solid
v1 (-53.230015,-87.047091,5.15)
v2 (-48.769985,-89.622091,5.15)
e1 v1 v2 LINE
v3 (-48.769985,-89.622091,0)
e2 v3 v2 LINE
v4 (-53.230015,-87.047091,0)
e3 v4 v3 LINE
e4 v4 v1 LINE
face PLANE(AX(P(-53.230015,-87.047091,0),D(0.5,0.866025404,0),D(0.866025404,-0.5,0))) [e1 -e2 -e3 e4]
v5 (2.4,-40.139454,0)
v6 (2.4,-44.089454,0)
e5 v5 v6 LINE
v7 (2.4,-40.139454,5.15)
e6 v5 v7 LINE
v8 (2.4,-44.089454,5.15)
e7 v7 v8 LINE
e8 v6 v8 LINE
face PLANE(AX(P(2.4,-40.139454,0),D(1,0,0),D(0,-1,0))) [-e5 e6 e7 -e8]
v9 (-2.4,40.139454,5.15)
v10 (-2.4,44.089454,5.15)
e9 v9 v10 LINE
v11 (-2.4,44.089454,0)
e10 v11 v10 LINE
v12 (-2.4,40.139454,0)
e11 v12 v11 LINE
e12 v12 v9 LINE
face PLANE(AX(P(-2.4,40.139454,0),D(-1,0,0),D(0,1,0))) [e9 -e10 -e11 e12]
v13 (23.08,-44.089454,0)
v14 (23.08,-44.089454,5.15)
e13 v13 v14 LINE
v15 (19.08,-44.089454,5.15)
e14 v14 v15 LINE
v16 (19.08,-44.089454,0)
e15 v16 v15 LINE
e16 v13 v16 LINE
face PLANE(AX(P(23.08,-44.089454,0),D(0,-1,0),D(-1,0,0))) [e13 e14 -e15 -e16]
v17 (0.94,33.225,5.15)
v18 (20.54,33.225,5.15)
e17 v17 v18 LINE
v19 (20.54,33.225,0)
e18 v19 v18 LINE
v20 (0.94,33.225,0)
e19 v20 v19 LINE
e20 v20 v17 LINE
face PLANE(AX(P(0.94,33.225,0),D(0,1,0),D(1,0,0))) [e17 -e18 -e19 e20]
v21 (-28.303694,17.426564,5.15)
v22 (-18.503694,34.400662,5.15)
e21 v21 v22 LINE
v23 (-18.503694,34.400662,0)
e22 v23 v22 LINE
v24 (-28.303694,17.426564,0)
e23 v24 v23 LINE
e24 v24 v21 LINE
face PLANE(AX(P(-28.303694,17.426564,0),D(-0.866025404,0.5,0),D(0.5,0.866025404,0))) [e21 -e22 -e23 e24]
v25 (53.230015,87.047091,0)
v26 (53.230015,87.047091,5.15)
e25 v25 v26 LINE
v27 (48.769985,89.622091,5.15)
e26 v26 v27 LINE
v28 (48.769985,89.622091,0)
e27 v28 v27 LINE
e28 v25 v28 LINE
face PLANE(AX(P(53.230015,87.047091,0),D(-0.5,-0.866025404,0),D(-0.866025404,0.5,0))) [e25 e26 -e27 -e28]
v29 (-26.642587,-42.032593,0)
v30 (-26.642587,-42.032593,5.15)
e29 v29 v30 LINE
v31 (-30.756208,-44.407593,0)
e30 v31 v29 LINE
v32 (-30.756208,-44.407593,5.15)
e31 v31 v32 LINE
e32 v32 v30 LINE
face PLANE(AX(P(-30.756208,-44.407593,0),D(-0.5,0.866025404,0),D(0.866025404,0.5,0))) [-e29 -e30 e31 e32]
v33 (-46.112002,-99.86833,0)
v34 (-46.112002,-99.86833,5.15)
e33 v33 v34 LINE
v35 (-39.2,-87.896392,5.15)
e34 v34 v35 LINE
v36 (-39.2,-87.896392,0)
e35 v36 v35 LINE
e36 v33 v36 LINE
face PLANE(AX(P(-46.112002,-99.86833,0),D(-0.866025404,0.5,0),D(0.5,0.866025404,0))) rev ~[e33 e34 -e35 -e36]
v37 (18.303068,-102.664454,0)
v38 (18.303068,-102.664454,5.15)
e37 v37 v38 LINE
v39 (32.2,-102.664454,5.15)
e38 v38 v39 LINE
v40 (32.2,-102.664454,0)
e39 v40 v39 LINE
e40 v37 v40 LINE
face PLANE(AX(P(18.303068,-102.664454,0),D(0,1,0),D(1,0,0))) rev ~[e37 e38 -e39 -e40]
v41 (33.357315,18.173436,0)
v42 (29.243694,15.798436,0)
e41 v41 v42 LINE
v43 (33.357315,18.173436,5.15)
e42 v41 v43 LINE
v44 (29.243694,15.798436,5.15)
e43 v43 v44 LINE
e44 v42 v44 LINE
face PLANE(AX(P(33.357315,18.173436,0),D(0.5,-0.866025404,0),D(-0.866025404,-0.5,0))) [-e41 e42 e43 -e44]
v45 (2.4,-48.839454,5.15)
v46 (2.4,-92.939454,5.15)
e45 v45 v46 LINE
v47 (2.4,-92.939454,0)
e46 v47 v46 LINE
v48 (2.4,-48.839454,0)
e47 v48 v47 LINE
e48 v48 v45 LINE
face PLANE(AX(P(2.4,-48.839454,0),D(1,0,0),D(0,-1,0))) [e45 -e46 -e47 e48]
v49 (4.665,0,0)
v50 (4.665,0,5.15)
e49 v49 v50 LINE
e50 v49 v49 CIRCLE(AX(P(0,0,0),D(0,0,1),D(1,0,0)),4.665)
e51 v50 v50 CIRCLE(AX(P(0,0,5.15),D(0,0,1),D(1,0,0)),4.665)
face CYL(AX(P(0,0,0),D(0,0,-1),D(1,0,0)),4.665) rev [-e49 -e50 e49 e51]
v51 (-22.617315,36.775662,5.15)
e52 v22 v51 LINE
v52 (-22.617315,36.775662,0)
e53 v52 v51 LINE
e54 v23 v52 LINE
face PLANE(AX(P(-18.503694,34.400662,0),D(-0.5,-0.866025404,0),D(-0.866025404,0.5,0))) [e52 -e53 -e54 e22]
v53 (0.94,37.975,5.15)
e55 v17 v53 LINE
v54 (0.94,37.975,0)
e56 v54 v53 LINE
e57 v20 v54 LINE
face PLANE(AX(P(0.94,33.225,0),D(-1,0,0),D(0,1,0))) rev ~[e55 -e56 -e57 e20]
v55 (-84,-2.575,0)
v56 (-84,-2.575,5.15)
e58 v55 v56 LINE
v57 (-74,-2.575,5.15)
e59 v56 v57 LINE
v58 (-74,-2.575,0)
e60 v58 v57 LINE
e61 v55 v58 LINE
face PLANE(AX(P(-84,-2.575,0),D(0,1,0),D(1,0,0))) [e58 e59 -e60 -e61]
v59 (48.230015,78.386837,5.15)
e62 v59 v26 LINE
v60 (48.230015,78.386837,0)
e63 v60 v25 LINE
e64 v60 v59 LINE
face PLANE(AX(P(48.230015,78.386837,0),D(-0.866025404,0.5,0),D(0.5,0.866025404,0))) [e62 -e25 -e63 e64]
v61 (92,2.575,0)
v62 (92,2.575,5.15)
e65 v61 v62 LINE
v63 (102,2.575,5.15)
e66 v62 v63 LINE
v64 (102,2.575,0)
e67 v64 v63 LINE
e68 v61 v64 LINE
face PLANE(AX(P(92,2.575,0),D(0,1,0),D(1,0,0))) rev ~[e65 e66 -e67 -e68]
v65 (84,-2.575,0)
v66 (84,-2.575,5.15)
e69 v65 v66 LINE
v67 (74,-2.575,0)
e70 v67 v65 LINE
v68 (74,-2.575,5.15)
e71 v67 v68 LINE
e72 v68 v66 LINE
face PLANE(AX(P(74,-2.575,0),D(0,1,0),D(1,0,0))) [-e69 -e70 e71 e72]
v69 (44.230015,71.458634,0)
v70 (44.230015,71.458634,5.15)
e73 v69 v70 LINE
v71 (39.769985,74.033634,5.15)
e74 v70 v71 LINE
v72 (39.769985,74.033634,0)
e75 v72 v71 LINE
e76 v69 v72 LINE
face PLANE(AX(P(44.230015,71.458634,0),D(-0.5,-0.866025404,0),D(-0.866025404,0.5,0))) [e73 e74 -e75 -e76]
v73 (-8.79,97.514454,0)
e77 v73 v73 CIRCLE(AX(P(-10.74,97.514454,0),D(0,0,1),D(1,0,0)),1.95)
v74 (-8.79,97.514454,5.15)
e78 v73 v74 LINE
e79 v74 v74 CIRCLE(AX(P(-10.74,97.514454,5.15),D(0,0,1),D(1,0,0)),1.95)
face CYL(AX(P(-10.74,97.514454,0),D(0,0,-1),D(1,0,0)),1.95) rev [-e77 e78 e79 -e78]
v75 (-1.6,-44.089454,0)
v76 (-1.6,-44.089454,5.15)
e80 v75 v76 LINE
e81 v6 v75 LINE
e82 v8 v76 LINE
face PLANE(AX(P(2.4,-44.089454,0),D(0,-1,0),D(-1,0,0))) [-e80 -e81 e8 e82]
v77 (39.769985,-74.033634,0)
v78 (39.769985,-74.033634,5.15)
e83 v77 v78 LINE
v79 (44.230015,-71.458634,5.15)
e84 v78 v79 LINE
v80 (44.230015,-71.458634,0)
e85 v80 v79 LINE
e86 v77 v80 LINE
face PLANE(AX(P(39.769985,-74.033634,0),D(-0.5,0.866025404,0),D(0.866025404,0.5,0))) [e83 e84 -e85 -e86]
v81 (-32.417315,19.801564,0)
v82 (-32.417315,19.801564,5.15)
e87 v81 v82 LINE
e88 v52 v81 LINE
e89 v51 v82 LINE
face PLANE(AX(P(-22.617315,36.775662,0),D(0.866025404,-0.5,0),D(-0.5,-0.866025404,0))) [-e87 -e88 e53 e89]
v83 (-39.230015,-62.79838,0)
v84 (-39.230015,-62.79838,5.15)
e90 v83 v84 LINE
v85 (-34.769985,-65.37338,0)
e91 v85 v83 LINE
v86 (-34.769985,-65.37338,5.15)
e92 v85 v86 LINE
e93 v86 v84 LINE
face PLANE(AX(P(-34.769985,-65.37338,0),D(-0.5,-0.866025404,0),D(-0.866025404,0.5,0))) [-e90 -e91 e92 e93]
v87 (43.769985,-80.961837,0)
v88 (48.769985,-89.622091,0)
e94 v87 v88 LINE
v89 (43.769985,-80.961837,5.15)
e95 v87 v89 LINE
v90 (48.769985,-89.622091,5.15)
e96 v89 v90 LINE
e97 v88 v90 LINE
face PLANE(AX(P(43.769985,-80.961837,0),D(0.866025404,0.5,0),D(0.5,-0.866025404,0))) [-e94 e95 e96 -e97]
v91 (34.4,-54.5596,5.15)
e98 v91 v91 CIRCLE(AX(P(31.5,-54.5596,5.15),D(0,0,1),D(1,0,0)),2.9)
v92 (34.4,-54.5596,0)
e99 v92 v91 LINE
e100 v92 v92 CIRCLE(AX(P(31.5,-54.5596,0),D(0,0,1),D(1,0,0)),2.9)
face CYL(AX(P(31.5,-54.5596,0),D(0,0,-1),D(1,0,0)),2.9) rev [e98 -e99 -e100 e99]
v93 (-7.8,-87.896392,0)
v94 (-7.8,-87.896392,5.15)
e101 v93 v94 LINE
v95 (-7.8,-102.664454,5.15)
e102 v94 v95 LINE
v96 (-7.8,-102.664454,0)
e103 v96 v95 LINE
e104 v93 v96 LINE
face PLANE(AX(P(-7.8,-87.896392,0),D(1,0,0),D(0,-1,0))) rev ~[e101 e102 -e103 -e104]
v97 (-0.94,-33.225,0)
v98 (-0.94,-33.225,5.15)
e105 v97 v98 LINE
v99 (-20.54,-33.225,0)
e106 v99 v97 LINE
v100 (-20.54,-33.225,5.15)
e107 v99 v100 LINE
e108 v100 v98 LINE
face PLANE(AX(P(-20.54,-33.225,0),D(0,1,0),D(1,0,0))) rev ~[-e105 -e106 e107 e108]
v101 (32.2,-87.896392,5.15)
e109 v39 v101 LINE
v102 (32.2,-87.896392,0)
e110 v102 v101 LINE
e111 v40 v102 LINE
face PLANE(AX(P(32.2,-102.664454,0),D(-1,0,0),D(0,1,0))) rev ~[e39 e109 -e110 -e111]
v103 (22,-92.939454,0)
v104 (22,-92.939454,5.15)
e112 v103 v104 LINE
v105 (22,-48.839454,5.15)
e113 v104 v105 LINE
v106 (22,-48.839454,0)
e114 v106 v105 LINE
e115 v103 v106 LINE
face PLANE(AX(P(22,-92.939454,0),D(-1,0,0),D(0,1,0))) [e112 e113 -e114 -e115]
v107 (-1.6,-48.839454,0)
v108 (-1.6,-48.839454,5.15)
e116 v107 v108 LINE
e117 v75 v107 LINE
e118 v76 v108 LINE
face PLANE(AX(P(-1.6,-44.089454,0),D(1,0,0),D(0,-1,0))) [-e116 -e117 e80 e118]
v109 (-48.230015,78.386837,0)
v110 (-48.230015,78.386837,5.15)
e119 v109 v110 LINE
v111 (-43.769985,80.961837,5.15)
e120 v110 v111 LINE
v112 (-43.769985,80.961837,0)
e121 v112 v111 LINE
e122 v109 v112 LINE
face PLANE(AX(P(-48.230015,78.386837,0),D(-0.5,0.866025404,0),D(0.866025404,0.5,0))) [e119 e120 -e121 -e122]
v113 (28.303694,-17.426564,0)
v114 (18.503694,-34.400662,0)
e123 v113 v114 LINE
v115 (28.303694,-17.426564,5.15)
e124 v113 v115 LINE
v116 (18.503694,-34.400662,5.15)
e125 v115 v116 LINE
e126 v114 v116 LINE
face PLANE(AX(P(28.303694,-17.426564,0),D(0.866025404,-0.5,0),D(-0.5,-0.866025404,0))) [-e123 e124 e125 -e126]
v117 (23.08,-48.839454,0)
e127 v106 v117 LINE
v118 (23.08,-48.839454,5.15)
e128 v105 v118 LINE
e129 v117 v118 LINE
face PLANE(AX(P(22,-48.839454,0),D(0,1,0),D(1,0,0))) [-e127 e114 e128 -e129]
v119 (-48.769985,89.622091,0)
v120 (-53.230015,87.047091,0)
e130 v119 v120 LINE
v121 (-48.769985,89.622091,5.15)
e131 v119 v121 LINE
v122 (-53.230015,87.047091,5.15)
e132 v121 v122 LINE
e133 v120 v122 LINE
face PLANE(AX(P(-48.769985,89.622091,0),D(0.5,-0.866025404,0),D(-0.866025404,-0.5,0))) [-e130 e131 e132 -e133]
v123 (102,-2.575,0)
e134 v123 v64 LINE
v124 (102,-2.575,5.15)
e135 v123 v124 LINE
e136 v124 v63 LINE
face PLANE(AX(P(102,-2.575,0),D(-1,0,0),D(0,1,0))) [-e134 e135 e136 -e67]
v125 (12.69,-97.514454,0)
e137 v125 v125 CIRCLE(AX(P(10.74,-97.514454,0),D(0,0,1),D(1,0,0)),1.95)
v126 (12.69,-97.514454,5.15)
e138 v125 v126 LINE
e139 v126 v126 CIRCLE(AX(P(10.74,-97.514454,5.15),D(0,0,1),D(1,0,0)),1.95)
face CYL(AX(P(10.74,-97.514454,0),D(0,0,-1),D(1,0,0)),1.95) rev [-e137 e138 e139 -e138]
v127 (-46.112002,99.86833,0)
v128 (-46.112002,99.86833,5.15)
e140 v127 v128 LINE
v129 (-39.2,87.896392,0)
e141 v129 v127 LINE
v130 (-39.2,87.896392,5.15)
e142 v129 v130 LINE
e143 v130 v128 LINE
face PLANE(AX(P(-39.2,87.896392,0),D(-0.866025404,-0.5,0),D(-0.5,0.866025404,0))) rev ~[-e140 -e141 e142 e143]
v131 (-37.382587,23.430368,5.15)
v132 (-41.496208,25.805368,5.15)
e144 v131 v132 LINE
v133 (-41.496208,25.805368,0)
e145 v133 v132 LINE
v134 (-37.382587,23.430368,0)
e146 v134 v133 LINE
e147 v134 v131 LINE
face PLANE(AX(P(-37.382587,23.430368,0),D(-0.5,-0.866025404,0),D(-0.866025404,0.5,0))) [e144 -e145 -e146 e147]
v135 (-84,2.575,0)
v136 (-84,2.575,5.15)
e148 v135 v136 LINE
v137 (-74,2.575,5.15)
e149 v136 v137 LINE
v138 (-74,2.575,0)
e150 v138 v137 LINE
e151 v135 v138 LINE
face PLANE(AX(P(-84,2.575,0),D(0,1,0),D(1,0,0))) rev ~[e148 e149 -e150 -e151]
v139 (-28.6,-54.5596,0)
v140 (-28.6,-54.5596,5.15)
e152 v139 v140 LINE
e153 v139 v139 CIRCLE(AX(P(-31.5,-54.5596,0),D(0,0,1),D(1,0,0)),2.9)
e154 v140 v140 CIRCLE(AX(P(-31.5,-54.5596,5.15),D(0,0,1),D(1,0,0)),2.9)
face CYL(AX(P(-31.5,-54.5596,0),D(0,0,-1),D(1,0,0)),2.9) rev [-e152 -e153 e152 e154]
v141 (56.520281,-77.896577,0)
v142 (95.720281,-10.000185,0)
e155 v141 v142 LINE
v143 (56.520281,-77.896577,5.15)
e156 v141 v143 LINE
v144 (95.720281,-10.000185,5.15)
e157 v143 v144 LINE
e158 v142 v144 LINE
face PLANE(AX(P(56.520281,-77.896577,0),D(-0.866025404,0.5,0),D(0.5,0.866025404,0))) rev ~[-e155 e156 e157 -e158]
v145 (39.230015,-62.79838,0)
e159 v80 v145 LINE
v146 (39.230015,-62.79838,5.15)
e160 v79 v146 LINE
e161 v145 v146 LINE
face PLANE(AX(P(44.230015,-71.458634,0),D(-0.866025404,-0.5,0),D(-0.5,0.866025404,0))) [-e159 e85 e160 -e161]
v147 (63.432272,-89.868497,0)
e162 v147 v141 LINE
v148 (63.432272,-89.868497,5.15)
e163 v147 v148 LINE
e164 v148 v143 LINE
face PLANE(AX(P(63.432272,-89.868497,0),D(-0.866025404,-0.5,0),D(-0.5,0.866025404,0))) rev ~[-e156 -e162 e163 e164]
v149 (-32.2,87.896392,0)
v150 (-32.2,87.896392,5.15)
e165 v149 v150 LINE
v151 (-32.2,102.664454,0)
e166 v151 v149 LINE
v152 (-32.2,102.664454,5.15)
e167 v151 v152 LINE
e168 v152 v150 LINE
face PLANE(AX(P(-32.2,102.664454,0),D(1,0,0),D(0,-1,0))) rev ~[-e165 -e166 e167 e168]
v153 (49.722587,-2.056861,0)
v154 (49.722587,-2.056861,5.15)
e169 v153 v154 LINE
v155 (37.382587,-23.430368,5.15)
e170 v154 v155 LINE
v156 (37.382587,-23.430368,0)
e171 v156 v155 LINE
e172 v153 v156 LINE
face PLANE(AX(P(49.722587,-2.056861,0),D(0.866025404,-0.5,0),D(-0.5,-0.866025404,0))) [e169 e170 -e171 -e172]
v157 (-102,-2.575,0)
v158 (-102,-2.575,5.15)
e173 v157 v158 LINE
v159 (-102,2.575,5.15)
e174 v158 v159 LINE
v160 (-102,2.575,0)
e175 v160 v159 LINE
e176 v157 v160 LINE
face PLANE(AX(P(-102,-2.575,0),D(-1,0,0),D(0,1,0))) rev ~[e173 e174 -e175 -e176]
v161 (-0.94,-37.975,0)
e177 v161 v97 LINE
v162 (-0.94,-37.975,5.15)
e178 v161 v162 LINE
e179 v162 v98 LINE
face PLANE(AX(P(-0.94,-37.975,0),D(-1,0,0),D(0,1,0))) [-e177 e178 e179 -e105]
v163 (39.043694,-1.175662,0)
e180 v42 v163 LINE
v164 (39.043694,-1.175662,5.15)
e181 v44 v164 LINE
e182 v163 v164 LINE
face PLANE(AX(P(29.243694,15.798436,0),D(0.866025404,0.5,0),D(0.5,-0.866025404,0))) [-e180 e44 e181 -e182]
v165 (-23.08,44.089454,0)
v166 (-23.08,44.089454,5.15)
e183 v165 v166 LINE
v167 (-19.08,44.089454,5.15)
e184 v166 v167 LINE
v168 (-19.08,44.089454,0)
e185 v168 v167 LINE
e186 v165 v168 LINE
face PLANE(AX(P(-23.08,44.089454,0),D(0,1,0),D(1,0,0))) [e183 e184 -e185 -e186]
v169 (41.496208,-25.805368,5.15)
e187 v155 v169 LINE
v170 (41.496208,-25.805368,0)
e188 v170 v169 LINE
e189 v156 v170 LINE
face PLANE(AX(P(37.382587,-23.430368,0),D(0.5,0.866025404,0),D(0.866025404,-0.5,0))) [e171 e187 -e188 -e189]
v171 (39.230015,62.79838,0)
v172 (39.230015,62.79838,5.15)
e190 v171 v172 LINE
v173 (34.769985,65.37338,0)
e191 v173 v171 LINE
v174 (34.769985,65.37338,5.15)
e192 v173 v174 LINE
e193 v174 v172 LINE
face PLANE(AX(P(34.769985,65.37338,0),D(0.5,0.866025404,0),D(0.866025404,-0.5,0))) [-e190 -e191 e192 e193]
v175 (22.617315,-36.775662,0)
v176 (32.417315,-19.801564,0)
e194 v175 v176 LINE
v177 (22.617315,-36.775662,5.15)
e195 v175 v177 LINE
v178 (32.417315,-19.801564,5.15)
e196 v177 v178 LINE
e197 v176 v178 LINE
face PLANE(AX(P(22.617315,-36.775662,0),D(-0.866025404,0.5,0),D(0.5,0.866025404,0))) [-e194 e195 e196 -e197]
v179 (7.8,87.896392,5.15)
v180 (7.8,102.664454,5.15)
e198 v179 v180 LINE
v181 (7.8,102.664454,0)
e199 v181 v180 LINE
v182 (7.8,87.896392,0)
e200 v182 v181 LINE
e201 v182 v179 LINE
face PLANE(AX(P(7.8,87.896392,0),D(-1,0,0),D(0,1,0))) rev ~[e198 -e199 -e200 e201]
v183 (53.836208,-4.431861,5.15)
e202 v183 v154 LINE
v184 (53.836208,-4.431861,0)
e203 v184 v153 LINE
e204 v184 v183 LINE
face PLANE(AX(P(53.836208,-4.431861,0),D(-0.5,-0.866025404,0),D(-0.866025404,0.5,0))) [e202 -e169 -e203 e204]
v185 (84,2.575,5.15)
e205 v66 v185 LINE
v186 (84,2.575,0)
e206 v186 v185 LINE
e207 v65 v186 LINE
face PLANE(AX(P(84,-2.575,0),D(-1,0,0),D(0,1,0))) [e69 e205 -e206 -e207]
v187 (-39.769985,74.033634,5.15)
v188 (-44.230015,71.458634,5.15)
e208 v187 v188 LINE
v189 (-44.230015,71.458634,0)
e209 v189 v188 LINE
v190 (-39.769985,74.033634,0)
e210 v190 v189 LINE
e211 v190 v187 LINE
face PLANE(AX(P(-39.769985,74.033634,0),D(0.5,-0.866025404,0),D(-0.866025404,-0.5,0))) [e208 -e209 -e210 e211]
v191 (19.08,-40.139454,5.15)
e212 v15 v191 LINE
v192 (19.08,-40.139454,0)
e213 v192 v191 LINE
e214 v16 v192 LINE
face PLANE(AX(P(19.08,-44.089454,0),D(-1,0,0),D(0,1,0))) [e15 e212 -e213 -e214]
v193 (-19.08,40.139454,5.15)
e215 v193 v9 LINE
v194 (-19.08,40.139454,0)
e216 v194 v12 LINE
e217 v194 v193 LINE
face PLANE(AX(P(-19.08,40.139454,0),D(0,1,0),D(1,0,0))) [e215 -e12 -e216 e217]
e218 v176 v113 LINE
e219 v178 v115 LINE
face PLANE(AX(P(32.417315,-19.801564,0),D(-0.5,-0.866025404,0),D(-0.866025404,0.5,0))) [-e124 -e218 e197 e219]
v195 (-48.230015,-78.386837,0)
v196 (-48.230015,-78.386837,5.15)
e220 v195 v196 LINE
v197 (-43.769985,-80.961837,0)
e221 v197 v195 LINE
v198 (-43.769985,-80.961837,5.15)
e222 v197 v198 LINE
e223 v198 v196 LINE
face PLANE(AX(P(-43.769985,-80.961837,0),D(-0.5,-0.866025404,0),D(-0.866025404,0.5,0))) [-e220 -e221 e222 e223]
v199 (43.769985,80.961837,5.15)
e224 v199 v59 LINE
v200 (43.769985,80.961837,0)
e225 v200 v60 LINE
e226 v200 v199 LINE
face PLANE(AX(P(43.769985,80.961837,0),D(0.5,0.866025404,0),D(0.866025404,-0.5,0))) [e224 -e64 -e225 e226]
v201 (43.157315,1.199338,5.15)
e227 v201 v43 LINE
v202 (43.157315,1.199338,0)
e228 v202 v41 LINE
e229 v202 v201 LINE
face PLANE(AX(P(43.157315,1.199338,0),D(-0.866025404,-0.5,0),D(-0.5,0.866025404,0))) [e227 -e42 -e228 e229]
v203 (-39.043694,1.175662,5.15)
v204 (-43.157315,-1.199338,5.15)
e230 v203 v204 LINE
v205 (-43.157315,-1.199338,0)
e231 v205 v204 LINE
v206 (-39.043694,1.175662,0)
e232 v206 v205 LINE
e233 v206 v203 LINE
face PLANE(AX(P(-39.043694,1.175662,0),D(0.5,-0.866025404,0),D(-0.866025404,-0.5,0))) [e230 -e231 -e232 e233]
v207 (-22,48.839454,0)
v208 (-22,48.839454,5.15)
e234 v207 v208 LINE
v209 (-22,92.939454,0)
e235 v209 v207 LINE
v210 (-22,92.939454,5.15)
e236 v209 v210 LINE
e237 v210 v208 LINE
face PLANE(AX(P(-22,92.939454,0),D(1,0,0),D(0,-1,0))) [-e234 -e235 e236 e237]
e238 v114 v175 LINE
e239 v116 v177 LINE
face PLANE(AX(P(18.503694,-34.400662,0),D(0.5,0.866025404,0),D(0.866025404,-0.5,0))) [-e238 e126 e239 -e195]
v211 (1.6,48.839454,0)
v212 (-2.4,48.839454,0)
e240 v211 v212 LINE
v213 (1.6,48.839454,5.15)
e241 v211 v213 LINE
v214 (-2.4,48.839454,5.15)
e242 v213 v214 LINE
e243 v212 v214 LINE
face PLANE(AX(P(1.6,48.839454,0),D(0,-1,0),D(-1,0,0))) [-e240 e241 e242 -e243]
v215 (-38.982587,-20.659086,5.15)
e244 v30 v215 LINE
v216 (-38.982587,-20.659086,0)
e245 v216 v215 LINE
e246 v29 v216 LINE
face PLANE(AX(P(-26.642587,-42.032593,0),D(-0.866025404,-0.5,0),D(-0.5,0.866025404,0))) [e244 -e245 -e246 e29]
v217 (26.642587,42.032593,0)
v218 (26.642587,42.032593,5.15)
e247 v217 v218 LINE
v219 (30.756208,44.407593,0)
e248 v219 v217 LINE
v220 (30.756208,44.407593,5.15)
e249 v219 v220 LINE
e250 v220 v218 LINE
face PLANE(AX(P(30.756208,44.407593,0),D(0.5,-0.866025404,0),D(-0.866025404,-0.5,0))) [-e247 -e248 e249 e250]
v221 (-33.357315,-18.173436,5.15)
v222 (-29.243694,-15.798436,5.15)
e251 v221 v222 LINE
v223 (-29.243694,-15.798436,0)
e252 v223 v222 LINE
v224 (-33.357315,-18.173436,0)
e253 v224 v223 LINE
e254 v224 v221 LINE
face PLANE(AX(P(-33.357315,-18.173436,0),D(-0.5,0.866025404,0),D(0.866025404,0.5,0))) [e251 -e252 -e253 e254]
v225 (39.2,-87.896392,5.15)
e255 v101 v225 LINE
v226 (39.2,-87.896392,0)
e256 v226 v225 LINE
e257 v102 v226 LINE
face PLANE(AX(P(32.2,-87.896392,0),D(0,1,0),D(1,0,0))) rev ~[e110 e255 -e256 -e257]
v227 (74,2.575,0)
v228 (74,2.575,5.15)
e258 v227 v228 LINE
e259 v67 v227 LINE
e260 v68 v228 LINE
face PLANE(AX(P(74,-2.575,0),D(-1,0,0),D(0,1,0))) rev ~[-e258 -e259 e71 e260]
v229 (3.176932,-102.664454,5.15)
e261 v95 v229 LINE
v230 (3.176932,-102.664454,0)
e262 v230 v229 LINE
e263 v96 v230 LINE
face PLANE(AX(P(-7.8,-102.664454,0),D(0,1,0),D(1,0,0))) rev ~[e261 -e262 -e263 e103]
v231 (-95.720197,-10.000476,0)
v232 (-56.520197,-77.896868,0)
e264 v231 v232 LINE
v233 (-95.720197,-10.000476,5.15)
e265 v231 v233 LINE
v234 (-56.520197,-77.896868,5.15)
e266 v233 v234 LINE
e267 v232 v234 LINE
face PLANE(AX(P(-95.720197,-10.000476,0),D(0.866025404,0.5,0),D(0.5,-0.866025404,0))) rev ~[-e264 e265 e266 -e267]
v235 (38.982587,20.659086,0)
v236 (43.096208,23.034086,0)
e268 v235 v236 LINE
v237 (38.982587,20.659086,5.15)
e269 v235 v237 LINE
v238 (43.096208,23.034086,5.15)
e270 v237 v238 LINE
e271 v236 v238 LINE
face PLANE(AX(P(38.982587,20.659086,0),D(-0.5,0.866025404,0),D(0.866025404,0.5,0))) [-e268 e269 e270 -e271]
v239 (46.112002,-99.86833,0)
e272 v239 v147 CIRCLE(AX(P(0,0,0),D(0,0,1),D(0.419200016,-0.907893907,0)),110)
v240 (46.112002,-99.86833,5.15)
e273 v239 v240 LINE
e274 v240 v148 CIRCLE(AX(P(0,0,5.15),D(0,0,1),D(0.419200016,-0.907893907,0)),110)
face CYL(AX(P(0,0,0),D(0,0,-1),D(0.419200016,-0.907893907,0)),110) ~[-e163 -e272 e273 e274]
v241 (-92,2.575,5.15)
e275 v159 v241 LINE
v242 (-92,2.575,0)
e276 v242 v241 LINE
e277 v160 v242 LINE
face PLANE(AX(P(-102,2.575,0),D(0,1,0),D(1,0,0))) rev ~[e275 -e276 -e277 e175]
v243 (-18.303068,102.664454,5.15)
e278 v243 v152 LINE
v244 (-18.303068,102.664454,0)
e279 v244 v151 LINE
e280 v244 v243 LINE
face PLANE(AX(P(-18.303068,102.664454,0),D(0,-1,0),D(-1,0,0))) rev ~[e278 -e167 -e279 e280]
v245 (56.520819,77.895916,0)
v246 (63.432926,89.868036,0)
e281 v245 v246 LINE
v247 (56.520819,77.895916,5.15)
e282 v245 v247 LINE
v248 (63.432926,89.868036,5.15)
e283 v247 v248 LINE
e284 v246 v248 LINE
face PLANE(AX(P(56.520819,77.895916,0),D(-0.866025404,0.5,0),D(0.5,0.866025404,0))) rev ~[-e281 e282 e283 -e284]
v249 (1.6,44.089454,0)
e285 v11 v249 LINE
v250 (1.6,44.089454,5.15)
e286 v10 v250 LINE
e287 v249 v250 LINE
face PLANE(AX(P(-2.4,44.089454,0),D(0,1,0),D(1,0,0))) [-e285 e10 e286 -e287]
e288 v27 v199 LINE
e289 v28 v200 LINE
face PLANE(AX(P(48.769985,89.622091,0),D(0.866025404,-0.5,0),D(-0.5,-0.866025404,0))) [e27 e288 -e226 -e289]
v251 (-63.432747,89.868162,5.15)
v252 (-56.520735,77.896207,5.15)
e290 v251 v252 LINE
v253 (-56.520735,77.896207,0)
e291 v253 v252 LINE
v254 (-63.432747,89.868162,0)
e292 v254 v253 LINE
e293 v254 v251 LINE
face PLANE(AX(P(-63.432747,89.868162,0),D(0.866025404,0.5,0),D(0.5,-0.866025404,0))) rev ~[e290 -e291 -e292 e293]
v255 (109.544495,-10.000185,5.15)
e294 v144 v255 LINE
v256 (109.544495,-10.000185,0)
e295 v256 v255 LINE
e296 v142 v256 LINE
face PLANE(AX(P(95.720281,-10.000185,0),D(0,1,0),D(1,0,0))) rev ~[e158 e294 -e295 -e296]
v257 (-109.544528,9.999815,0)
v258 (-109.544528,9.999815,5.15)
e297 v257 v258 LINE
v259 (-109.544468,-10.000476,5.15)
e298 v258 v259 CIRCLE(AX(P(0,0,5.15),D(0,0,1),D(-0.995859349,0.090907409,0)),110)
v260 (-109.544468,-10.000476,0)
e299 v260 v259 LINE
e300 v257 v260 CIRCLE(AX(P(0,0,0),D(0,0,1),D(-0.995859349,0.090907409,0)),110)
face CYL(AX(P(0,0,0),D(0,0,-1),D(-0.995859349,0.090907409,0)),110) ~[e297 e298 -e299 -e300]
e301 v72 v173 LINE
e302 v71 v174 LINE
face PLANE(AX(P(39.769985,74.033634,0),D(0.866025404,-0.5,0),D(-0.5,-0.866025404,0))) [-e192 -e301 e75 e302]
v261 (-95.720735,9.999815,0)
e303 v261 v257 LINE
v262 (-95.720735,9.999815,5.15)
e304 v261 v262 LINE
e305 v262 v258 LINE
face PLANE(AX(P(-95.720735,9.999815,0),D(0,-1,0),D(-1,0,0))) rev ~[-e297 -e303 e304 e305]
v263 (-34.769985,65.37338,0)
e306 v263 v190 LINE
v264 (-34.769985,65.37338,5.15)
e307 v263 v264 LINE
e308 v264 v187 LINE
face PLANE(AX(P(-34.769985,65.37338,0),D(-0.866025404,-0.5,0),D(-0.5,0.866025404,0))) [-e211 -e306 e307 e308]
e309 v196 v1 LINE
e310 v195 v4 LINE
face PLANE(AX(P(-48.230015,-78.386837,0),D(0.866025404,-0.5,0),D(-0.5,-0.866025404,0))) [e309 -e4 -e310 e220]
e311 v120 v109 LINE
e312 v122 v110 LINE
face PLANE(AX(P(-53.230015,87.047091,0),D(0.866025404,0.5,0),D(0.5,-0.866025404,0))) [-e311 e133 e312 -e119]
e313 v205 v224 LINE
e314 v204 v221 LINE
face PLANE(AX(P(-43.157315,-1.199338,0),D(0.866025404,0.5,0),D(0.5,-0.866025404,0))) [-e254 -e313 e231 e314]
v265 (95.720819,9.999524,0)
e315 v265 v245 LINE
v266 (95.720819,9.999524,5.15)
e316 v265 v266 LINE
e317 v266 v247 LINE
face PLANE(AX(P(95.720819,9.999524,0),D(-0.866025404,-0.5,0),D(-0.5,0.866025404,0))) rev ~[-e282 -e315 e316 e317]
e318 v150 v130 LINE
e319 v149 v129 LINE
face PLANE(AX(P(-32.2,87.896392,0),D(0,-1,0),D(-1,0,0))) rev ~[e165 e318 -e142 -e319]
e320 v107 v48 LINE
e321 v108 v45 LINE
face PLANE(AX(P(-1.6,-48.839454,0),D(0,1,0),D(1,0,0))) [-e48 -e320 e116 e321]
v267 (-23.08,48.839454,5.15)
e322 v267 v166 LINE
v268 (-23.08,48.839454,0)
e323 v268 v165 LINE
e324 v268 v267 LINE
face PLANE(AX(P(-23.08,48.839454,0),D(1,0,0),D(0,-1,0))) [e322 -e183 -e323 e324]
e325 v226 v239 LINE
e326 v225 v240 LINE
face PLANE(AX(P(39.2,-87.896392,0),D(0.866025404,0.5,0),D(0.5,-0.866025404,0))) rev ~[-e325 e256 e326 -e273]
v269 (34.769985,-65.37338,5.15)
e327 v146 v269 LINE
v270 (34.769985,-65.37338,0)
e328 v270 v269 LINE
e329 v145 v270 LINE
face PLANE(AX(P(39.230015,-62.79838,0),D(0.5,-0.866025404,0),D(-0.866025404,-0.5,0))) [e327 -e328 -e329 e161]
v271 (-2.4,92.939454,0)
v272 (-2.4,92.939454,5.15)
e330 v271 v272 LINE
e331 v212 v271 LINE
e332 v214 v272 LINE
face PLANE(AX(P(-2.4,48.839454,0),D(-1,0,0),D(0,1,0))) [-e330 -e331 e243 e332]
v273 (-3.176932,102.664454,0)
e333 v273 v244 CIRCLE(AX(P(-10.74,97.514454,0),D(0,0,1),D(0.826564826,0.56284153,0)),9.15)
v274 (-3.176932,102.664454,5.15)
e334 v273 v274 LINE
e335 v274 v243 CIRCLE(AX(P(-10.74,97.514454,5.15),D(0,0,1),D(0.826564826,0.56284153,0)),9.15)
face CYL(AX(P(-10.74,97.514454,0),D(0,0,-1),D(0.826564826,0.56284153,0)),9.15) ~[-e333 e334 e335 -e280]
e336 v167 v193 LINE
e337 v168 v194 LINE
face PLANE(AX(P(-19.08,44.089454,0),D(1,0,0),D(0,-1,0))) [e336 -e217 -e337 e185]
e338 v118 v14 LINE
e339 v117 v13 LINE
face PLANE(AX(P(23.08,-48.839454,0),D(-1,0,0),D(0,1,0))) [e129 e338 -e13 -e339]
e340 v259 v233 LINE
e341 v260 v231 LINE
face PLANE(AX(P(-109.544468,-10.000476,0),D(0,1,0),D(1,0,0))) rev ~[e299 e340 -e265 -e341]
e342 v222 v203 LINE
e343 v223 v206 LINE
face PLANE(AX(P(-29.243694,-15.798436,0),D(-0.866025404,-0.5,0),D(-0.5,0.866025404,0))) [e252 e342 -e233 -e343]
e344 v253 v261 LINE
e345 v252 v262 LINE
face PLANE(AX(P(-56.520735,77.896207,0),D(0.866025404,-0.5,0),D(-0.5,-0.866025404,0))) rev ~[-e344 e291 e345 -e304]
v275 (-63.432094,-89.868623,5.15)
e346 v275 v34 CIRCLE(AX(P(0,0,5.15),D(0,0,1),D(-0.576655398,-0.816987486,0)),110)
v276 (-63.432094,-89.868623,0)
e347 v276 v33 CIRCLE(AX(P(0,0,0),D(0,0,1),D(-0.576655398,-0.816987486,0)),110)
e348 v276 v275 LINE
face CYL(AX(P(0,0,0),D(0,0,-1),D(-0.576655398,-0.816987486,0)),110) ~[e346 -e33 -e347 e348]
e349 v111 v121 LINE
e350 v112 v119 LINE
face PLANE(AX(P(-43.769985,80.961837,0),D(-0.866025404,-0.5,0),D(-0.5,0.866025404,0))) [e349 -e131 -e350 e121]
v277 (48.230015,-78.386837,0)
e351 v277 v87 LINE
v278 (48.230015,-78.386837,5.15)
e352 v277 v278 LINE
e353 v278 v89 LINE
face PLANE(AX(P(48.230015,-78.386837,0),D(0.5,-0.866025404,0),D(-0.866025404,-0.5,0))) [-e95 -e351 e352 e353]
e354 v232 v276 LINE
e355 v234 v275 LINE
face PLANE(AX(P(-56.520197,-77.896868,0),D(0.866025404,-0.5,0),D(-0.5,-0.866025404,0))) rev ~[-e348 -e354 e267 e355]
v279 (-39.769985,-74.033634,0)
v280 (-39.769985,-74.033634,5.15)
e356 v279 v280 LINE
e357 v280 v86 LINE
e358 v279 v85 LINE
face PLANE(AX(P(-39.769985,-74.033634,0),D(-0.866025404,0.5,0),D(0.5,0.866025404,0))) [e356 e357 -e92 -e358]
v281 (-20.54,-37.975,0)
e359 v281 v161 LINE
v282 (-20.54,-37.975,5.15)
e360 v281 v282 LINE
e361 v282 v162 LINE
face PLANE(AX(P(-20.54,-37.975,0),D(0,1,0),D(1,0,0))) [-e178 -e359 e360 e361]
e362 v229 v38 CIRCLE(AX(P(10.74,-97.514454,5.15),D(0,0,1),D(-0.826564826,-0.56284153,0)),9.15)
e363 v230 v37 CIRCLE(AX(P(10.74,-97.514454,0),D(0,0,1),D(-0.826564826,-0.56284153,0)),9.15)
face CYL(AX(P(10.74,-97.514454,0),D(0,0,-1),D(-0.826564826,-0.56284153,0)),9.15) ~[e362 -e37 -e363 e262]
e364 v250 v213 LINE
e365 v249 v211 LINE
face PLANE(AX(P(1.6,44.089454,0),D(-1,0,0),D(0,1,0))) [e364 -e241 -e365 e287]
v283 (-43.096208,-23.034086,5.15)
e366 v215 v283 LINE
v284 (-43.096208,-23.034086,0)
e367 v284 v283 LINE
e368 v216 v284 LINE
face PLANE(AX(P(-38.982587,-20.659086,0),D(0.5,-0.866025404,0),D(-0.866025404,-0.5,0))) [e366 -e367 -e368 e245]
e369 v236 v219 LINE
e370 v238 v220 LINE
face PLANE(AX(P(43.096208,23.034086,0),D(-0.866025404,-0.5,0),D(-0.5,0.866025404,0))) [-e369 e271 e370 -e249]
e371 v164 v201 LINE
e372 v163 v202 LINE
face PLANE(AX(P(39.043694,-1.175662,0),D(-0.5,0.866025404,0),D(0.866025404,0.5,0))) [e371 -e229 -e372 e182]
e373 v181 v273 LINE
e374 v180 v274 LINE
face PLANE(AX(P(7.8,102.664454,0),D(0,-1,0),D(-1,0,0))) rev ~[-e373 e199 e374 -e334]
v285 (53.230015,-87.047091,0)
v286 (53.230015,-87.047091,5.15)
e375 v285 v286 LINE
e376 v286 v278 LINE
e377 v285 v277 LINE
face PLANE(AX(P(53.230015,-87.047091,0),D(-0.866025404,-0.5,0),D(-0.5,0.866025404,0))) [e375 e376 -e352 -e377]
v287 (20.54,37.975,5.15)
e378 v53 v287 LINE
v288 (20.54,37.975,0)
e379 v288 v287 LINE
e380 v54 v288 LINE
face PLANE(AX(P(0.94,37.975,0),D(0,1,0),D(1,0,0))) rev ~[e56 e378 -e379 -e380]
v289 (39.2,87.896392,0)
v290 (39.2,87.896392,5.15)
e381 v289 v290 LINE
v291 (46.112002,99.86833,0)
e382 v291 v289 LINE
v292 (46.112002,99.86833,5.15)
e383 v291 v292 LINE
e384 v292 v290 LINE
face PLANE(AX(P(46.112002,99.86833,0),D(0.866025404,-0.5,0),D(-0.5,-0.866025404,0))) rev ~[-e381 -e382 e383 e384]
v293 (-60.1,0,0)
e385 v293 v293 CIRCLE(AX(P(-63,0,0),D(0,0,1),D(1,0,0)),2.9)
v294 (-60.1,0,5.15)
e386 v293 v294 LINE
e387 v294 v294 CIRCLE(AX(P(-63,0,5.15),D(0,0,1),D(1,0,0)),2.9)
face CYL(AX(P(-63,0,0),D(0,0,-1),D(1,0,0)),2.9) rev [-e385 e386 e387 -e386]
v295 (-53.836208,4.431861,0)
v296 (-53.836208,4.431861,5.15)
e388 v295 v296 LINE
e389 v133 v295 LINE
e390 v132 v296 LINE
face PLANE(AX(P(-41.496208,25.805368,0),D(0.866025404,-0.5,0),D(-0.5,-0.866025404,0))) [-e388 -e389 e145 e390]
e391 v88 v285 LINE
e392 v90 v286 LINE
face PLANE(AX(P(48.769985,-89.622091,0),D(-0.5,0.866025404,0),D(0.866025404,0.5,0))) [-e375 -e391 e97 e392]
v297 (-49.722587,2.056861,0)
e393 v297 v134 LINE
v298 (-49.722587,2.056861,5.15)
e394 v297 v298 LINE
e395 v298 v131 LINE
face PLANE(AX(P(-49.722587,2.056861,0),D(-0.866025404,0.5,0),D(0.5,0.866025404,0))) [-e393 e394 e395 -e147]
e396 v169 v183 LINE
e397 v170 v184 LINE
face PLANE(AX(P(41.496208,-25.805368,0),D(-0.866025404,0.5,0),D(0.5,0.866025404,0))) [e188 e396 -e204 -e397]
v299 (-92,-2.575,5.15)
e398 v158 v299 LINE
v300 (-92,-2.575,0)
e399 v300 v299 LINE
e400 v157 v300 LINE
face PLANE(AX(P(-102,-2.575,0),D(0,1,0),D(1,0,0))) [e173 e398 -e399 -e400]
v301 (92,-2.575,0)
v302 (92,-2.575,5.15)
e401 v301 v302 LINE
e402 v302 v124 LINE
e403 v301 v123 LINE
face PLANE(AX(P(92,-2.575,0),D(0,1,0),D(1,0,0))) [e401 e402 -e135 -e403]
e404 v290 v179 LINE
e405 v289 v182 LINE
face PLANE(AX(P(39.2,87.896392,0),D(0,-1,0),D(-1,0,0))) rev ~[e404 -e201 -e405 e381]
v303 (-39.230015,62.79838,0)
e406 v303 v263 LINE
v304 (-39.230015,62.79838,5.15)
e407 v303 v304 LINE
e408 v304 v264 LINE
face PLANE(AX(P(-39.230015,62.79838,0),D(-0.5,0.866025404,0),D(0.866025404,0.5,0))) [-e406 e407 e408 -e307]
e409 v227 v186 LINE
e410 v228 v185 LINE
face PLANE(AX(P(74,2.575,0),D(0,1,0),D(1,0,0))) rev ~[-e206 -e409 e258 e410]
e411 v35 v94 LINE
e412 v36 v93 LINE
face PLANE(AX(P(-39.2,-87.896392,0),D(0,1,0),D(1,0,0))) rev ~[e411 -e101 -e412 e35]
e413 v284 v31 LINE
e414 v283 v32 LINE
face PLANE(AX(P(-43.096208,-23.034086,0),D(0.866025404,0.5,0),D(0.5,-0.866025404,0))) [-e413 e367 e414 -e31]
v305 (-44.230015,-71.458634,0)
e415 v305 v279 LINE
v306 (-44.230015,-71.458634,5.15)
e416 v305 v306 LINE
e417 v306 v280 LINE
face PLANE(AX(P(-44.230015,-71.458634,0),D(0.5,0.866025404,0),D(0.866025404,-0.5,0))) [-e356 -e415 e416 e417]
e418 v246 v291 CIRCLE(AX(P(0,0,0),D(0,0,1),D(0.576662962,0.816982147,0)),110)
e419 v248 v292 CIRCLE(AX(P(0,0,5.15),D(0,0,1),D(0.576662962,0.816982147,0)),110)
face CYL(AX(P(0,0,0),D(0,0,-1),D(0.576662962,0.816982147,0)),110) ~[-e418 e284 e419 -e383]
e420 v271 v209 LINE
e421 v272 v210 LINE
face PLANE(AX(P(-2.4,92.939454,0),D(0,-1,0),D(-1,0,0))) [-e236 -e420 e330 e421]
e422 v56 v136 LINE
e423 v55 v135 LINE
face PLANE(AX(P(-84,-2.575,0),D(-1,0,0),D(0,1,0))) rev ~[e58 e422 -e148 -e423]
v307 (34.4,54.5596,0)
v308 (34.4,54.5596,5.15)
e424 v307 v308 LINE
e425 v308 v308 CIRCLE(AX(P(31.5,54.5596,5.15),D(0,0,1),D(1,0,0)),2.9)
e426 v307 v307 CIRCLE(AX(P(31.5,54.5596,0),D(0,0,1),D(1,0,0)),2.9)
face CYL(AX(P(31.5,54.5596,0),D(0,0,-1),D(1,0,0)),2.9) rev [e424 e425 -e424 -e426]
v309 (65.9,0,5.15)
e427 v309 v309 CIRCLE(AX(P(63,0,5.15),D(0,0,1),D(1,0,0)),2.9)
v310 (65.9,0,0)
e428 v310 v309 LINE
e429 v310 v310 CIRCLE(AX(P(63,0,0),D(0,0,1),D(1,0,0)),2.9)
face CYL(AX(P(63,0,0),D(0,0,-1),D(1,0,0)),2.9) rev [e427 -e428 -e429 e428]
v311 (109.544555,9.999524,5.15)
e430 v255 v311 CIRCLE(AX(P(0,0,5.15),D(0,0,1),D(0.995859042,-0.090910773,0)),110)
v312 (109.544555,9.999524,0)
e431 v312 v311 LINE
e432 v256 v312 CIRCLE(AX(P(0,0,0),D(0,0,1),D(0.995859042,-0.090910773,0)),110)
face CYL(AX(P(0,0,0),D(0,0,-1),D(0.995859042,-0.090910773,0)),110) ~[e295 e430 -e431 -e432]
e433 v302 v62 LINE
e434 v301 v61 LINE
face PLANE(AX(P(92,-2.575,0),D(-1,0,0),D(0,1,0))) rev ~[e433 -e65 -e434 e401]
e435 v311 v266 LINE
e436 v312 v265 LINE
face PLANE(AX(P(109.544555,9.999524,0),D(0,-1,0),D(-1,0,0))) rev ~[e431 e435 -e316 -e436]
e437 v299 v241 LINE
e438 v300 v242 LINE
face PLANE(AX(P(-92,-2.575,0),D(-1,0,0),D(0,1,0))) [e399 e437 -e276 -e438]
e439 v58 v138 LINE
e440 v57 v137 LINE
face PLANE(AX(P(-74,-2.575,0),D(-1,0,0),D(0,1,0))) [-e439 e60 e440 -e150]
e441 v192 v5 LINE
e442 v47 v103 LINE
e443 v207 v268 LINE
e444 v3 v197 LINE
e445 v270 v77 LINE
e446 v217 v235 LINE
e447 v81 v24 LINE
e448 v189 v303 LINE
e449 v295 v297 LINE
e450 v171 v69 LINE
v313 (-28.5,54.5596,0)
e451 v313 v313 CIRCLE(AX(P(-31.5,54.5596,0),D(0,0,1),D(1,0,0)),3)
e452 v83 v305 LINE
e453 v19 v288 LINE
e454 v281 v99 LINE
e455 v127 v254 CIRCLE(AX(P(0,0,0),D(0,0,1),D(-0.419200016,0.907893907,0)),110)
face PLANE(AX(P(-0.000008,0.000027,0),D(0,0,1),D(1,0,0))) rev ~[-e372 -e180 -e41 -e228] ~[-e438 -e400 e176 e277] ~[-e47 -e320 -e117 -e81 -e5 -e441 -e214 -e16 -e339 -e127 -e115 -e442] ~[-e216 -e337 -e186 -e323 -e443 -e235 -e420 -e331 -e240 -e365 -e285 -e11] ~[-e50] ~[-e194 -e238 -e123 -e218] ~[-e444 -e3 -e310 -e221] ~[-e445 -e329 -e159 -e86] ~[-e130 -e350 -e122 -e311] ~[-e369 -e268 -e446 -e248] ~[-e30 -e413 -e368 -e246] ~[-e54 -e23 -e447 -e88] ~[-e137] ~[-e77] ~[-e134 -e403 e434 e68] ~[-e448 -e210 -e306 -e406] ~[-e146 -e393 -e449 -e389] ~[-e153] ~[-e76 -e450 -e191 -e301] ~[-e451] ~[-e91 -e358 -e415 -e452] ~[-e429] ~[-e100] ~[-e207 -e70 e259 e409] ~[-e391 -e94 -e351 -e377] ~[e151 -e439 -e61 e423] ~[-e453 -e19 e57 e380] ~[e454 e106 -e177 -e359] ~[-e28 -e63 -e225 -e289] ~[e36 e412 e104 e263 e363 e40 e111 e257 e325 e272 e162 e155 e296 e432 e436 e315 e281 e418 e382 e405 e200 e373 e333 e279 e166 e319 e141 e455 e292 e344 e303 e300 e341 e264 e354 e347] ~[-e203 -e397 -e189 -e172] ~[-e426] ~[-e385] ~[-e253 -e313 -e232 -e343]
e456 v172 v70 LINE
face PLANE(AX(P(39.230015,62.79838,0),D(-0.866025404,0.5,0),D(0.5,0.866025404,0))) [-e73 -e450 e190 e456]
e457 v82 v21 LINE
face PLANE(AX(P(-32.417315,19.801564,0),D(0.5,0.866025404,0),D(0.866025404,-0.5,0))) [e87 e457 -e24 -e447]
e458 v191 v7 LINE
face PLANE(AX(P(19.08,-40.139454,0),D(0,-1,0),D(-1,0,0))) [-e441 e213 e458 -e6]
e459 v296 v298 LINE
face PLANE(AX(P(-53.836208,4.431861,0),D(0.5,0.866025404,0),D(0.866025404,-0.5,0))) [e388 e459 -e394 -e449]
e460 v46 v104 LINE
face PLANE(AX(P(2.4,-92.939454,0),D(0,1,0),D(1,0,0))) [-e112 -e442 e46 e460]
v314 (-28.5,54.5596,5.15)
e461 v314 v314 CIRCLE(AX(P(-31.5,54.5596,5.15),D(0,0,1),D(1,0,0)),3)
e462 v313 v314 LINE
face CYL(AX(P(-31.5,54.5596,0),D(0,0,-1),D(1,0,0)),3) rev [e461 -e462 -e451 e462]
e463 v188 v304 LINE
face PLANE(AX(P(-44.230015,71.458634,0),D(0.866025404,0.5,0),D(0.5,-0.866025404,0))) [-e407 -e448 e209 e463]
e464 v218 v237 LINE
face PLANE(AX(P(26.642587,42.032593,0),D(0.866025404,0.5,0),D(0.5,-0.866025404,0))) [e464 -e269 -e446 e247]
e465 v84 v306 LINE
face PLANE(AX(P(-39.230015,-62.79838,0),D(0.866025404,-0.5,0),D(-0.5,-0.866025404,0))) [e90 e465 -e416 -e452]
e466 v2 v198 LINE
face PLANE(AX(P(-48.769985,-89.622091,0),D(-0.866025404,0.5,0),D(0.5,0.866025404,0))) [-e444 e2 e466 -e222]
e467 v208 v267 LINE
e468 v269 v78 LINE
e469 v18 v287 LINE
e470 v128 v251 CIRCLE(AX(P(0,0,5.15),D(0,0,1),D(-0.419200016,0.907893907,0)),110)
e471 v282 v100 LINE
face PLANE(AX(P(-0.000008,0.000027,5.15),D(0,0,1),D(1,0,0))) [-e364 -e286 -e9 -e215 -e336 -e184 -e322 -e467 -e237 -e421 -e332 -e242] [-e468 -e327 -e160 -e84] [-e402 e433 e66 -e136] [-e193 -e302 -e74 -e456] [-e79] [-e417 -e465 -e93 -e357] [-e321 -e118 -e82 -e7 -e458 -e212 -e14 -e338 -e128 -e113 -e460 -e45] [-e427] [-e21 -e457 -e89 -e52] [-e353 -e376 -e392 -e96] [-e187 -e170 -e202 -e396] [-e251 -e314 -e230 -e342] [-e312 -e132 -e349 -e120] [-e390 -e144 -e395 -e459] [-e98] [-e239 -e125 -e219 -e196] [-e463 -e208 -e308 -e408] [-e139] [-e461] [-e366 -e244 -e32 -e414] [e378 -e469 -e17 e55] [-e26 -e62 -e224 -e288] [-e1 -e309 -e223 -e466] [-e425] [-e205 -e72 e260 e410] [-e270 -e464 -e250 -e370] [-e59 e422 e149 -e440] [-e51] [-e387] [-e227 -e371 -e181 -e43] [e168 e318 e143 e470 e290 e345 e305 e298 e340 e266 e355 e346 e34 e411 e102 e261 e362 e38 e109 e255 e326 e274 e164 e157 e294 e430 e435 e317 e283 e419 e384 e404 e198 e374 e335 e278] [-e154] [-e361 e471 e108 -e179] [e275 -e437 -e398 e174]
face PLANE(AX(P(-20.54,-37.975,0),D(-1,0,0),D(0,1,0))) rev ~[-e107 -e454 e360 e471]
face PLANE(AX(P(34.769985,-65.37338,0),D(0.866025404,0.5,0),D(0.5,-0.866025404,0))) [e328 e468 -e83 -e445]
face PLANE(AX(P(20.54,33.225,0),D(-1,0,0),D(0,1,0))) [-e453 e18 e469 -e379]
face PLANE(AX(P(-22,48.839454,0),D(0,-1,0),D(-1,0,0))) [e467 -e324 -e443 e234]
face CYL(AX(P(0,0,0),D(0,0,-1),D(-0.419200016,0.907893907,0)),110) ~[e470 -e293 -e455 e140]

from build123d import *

# Parameters (mm, degrees)
MODEL_R             = 2.9
MODEL_R_2           = 3
MODEL_R_3           = 4.665
MODEL_R_4           = 1.95
MODEL_W             = 10
MODEL_H             = 5.15
MODEL_W_2           = 19.6
MODEL_H_2           = 4.75
BOSS_EXTRUDE1_DEPTH = 5.15


with BuildPart() as part:
    # Model → Boss-Extrude1 (new body)
    with BuildSketch(Plane.XY):
        with BuildLine():
            Line((-56.520735382, 77.896206612), (-95.720735382, 9.999814955))
            Line((-95.720735382, 9.999814955), (-109.544528393, 9.999814955))
            ThreePointArc((-109.544528393, 9.999814955), (-110, -0.000331846), (-109.544468057, -10.000475899))
            Line((-109.544468057, -10.000475899), (-95.72019722, -10.000475899))
            Line((-95.72019722, -10.000475899), (-56.52019722, -77.896867556))
            Line((-56.52019722, -77.896867556), (-63.432093724, -89.868623478))
            ThreePointArc((-63.432093724, -89.868623478), (-54.999779481, -95.262921733), (-46.112001713, -99.868329805))
            Line((-46.112001713, -99.868329805), (-39.2, -87.896391657))
            Line((-39.2, -87.896391657), (-7.8, -87.896391657))
            Line((-7.8, -87.896391657), (-7.8, -102.664454178))
            Line((-7.8, -102.664454178), (3.176931839, -102.664454178))
            ThreePointArc((3.176931839, -102.664454178), (10.74, -106.664454178), (18.303068161, -102.664454178))
            Line((18.303068161, -102.664454178), (32.2, -102.664454178))
            Line((32.2, -102.664454178), (32.2, -87.896391657))
            Line((32.2, -87.896391657), (39.2, -87.896391657))
            Line((39.2, -87.896391657), (46.112001713, -99.868329805))
            ThreePointArc((46.112001713, -99.868329805), (54.999874175, -95.262867061), (63.432272389, -89.86849737))
            Line((63.432272389, -89.86849737), (56.520280769, -77.896576702))
            Line((56.520280769, -77.896576702), (95.720280769, -10.000185045))
            Line((95.720280769, -10.000185045), (109.544494609, -10.000185045))
            ThreePointArc((109.544494609, -10.000185045), (109.999999999, -0.000331846), (109.544554943, 9.999524101))
            Line((109.544554943, 9.999524101), (95.720818931, 9.999524101))
            Line((95.720818931, 9.999524101), (56.520818931, 77.895915758))
            Line((56.520818931, 77.895915758), (63.432925851, 89.868036131))
            ThreePointArc((63.432925851, 89.868036131), (55.000220519, 95.262667099), (46.112001713, 99.868329805))
            Line((46.112001713, 99.868329805), (39.2, 87.896391657))
            Line((39.2, 87.896391657), (7.8, 87.896391657))
            Line((7.8, 87.896391657), (7.8, 102.664454178))
            Line((7.8, 102.664454178), (-3.176931839, 102.664454178))
            ThreePointArc((-3.176931839, 102.664454178), (-10.74, 106.664454178), (-18.303068161, 102.664454178))
            Line((-18.303068161, 102.664454178), (-32.2, 102.664454178))
            Line((-32.2, 102.664454178), (-32.2, 87.896391657))
            Line((-32.2, 87.896391657), (-39.2, 87.896391657))
            Line((-39.2, 87.896391657), (-46.112001713, 99.868329805))
            ThreePointArc((-46.112001713, 99.868329805), (-55.000125824, 95.262721771), (-63.432747187, 89.86816224))
            Line((-63.432747187, 89.86816224), (-56.520735382, 77.896206612))
        make_face()
        with Locations((-63, 0)):
            Circle(MODEL_R, mode=Mode.SUBTRACT)
        with Locations((-31.5, -54.559600438)):
            Circle(MODEL_R, mode=Mode.SUBTRACT)
        with Locations((31.5, -54.559600438)):
            Circle(MODEL_R, mode=Mode.SUBTRACT)
        with Locations((63, 0)):
            Circle(MODEL_R, mode=Mode.SUBTRACT)
        with Locations((31.5, 54.559600438)):
            Circle(MODEL_R, mode=Mode.SUBTRACT)
        with Locations((-31.5, 54.559600438)):
            Circle(MODEL_R_2, mode=Mode.SUBTRACT)
        Circle(MODEL_R_3, mode=Mode.SUBTRACT)
        with Locations((10.74, -97.514454178)):
            Circle(MODEL_R_4, mode=Mode.SUBTRACT)
        with Locations((-10.74, 97.514454177)):
            Circle(MODEL_R_4, mode=Mode.SUBTRACT)
        with Locations((79, 0)):
            Rectangle(MODEL_W, MODEL_H, mode=Mode.SUBTRACT)
        with Locations((97, 0)):
            Rectangle(MODEL_W, MODEL_H, mode=Mode.SUBTRACT)
        Polygon((34.769984585, 65.37337988), (39.230015415, 62.79837988), (44.230015415, 71.458633918), (39.769984585, 74.033633918), align=None, mode=Mode.SUBTRACT)
        Polygon((43.769984585, 80.961837148), (48.230015415, 78.386837148), (53.230015415, 87.047091186), (48.769984585, 89.622091186), align=None, mode=Mode.SUBTRACT)
        Polygon((-48.230015415, 78.386837148), (-43.769984585, 80.961837148), (-48.769984585, 89.622091186), (-53.230015415, 87.047091186), align=None, mode=Mode.SUBTRACT)
        Polygon((-39.230015415, 62.79837988), (-34.769984585, 65.37337988), (-39.769984585, 74.033633918), (-44.230015415, 71.458633918), align=None, mode=Mode.SUBTRACT)
        with Locations((-79, 0)):
            Rectangle(MODEL_W, MODEL_H, mode=Mode.SUBTRACT)
        with Locations((-97, 0)):
            Rectangle(MODEL_W, MODEL_H, mode=Mode.SUBTRACT)
        Polygon((-34.769984585, -65.37337988), (-39.230015415, -62.79837988), (-44.230015415, -71.458633918), (-39.769984585, -74.033633918), align=None, mode=Mode.SUBTRACT)
        Polygon((-43.769984585, -80.961837148), (-48.230015415, -78.386837148), (-53.230015415, -87.047091186), (-48.769984585, -89.622091186), align=None, mode=Mode.SUBTRACT)
        Polygon((39.230015415, -62.79837988), (34.769984585, -65.37337988), (39.769984585, -74.033633918), (44.230015415, -71.458633918), align=None, mode=Mode.SUBTRACT)
        Polygon((48.230015415, -78.386837148), (43.769984585, -80.961837148), (48.769984585, -89.622091186), (53.230015415, -87.047091186), align=None, mode=Mode.SUBTRACT)
        Polygon((33.357314709, 18.17343612), (29.243694041, 15.79843612), (39.043694041, -1.175661794), (43.157314709, 1.199338206), align=None, mode=Mode.SUBTRACT)
        Polygon((32.417314709, -19.80156388), (28.303694041, -17.42656388), (18.503694041, -34.400661794), (22.617314709, -36.775661794), align=None, mode=Mode.SUBTRACT)
        with Locations((-10.74, -35.6)):
            Rectangle(MODEL_W_2, MODEL_H_2, mode=Mode.SUBTRACT)
        Polygon((-33.357314709, -18.17343612), (-29.243694041, -15.79843612), (-39.043694041, 1.175661794), (-43.157314709, -1.199338206), align=None, mode=Mode.SUBTRACT)
        Polygon((-32.417314709, 19.80156388), (-28.303694041, 17.42656388), (-18.503694041, 34.400661794), (-22.617314709, 36.775661794), align=None, mode=Mode.SUBTRACT)
        Polygon((38.982587357, 20.659086443), (43.096208025, 23.034086443), (30.756208025, 44.407593408), (26.642587357, 42.032593408), align=None, mode=Mode.SUBTRACT)
        Polygon((37.382587357, -23.430367735), (41.496208025, -25.805367735), (53.836208025, -4.431860769), (49.722587357, -2.056860769), align=None, mode=Mode.SUBTRACT)
        Polygon((2.4, -44.089454178), (-1.6, -44.089454178), (-1.6, -48.839454177), (2.4, -48.839454177), (2.4, -92.939454178), (22, -92.939454178), (22, -48.839454177), (23.08, -48.839454177), (23.08, -44.089454178), (19.08, -44.089454178), (19.08, -40.139454177), (2.4, -40.139454177), align=None, mode=Mode.SUBTRACT)
        Polygon((-38.982587357, -20.659086443), (-43.096208025, -23.034086443), (-30.756208025, -44.407593408), (-26.642587357, -42.032593408), align=None, mode=Mode.SUBTRACT)
        Polygon((-37.382587357, 23.430367735), (-41.496208025, 25.805367735), (-53.836208025, 4.431860769), (-49.722587357, 2.056860769), align=None, mode=Mode.SUBTRACT)
        with Locations((10.74, 35.6)):
            Rectangle(MODEL_W_2, MODEL_H_2, mode=Mode.SUBTRACT)
        Polygon((-2.4, 44.089454178), (1.6, 44.089454178), (1.6, 48.839454177), (-2.4, 48.839454177), (-2.4, 92.939454178), (-22, 92.939454178), (-22, 48.839454177), (-23.08, 48.839454177), (-23.08, 44.089454178), (-19.08, 44.089454178), (-19.08, 40.139454177), (-2.4, 40.139454177), align=None, mode=Mode.SUBTRACT)
    extrude(amount=BOSS_EXTRUDE1_DEPTH)


solid = part.part
